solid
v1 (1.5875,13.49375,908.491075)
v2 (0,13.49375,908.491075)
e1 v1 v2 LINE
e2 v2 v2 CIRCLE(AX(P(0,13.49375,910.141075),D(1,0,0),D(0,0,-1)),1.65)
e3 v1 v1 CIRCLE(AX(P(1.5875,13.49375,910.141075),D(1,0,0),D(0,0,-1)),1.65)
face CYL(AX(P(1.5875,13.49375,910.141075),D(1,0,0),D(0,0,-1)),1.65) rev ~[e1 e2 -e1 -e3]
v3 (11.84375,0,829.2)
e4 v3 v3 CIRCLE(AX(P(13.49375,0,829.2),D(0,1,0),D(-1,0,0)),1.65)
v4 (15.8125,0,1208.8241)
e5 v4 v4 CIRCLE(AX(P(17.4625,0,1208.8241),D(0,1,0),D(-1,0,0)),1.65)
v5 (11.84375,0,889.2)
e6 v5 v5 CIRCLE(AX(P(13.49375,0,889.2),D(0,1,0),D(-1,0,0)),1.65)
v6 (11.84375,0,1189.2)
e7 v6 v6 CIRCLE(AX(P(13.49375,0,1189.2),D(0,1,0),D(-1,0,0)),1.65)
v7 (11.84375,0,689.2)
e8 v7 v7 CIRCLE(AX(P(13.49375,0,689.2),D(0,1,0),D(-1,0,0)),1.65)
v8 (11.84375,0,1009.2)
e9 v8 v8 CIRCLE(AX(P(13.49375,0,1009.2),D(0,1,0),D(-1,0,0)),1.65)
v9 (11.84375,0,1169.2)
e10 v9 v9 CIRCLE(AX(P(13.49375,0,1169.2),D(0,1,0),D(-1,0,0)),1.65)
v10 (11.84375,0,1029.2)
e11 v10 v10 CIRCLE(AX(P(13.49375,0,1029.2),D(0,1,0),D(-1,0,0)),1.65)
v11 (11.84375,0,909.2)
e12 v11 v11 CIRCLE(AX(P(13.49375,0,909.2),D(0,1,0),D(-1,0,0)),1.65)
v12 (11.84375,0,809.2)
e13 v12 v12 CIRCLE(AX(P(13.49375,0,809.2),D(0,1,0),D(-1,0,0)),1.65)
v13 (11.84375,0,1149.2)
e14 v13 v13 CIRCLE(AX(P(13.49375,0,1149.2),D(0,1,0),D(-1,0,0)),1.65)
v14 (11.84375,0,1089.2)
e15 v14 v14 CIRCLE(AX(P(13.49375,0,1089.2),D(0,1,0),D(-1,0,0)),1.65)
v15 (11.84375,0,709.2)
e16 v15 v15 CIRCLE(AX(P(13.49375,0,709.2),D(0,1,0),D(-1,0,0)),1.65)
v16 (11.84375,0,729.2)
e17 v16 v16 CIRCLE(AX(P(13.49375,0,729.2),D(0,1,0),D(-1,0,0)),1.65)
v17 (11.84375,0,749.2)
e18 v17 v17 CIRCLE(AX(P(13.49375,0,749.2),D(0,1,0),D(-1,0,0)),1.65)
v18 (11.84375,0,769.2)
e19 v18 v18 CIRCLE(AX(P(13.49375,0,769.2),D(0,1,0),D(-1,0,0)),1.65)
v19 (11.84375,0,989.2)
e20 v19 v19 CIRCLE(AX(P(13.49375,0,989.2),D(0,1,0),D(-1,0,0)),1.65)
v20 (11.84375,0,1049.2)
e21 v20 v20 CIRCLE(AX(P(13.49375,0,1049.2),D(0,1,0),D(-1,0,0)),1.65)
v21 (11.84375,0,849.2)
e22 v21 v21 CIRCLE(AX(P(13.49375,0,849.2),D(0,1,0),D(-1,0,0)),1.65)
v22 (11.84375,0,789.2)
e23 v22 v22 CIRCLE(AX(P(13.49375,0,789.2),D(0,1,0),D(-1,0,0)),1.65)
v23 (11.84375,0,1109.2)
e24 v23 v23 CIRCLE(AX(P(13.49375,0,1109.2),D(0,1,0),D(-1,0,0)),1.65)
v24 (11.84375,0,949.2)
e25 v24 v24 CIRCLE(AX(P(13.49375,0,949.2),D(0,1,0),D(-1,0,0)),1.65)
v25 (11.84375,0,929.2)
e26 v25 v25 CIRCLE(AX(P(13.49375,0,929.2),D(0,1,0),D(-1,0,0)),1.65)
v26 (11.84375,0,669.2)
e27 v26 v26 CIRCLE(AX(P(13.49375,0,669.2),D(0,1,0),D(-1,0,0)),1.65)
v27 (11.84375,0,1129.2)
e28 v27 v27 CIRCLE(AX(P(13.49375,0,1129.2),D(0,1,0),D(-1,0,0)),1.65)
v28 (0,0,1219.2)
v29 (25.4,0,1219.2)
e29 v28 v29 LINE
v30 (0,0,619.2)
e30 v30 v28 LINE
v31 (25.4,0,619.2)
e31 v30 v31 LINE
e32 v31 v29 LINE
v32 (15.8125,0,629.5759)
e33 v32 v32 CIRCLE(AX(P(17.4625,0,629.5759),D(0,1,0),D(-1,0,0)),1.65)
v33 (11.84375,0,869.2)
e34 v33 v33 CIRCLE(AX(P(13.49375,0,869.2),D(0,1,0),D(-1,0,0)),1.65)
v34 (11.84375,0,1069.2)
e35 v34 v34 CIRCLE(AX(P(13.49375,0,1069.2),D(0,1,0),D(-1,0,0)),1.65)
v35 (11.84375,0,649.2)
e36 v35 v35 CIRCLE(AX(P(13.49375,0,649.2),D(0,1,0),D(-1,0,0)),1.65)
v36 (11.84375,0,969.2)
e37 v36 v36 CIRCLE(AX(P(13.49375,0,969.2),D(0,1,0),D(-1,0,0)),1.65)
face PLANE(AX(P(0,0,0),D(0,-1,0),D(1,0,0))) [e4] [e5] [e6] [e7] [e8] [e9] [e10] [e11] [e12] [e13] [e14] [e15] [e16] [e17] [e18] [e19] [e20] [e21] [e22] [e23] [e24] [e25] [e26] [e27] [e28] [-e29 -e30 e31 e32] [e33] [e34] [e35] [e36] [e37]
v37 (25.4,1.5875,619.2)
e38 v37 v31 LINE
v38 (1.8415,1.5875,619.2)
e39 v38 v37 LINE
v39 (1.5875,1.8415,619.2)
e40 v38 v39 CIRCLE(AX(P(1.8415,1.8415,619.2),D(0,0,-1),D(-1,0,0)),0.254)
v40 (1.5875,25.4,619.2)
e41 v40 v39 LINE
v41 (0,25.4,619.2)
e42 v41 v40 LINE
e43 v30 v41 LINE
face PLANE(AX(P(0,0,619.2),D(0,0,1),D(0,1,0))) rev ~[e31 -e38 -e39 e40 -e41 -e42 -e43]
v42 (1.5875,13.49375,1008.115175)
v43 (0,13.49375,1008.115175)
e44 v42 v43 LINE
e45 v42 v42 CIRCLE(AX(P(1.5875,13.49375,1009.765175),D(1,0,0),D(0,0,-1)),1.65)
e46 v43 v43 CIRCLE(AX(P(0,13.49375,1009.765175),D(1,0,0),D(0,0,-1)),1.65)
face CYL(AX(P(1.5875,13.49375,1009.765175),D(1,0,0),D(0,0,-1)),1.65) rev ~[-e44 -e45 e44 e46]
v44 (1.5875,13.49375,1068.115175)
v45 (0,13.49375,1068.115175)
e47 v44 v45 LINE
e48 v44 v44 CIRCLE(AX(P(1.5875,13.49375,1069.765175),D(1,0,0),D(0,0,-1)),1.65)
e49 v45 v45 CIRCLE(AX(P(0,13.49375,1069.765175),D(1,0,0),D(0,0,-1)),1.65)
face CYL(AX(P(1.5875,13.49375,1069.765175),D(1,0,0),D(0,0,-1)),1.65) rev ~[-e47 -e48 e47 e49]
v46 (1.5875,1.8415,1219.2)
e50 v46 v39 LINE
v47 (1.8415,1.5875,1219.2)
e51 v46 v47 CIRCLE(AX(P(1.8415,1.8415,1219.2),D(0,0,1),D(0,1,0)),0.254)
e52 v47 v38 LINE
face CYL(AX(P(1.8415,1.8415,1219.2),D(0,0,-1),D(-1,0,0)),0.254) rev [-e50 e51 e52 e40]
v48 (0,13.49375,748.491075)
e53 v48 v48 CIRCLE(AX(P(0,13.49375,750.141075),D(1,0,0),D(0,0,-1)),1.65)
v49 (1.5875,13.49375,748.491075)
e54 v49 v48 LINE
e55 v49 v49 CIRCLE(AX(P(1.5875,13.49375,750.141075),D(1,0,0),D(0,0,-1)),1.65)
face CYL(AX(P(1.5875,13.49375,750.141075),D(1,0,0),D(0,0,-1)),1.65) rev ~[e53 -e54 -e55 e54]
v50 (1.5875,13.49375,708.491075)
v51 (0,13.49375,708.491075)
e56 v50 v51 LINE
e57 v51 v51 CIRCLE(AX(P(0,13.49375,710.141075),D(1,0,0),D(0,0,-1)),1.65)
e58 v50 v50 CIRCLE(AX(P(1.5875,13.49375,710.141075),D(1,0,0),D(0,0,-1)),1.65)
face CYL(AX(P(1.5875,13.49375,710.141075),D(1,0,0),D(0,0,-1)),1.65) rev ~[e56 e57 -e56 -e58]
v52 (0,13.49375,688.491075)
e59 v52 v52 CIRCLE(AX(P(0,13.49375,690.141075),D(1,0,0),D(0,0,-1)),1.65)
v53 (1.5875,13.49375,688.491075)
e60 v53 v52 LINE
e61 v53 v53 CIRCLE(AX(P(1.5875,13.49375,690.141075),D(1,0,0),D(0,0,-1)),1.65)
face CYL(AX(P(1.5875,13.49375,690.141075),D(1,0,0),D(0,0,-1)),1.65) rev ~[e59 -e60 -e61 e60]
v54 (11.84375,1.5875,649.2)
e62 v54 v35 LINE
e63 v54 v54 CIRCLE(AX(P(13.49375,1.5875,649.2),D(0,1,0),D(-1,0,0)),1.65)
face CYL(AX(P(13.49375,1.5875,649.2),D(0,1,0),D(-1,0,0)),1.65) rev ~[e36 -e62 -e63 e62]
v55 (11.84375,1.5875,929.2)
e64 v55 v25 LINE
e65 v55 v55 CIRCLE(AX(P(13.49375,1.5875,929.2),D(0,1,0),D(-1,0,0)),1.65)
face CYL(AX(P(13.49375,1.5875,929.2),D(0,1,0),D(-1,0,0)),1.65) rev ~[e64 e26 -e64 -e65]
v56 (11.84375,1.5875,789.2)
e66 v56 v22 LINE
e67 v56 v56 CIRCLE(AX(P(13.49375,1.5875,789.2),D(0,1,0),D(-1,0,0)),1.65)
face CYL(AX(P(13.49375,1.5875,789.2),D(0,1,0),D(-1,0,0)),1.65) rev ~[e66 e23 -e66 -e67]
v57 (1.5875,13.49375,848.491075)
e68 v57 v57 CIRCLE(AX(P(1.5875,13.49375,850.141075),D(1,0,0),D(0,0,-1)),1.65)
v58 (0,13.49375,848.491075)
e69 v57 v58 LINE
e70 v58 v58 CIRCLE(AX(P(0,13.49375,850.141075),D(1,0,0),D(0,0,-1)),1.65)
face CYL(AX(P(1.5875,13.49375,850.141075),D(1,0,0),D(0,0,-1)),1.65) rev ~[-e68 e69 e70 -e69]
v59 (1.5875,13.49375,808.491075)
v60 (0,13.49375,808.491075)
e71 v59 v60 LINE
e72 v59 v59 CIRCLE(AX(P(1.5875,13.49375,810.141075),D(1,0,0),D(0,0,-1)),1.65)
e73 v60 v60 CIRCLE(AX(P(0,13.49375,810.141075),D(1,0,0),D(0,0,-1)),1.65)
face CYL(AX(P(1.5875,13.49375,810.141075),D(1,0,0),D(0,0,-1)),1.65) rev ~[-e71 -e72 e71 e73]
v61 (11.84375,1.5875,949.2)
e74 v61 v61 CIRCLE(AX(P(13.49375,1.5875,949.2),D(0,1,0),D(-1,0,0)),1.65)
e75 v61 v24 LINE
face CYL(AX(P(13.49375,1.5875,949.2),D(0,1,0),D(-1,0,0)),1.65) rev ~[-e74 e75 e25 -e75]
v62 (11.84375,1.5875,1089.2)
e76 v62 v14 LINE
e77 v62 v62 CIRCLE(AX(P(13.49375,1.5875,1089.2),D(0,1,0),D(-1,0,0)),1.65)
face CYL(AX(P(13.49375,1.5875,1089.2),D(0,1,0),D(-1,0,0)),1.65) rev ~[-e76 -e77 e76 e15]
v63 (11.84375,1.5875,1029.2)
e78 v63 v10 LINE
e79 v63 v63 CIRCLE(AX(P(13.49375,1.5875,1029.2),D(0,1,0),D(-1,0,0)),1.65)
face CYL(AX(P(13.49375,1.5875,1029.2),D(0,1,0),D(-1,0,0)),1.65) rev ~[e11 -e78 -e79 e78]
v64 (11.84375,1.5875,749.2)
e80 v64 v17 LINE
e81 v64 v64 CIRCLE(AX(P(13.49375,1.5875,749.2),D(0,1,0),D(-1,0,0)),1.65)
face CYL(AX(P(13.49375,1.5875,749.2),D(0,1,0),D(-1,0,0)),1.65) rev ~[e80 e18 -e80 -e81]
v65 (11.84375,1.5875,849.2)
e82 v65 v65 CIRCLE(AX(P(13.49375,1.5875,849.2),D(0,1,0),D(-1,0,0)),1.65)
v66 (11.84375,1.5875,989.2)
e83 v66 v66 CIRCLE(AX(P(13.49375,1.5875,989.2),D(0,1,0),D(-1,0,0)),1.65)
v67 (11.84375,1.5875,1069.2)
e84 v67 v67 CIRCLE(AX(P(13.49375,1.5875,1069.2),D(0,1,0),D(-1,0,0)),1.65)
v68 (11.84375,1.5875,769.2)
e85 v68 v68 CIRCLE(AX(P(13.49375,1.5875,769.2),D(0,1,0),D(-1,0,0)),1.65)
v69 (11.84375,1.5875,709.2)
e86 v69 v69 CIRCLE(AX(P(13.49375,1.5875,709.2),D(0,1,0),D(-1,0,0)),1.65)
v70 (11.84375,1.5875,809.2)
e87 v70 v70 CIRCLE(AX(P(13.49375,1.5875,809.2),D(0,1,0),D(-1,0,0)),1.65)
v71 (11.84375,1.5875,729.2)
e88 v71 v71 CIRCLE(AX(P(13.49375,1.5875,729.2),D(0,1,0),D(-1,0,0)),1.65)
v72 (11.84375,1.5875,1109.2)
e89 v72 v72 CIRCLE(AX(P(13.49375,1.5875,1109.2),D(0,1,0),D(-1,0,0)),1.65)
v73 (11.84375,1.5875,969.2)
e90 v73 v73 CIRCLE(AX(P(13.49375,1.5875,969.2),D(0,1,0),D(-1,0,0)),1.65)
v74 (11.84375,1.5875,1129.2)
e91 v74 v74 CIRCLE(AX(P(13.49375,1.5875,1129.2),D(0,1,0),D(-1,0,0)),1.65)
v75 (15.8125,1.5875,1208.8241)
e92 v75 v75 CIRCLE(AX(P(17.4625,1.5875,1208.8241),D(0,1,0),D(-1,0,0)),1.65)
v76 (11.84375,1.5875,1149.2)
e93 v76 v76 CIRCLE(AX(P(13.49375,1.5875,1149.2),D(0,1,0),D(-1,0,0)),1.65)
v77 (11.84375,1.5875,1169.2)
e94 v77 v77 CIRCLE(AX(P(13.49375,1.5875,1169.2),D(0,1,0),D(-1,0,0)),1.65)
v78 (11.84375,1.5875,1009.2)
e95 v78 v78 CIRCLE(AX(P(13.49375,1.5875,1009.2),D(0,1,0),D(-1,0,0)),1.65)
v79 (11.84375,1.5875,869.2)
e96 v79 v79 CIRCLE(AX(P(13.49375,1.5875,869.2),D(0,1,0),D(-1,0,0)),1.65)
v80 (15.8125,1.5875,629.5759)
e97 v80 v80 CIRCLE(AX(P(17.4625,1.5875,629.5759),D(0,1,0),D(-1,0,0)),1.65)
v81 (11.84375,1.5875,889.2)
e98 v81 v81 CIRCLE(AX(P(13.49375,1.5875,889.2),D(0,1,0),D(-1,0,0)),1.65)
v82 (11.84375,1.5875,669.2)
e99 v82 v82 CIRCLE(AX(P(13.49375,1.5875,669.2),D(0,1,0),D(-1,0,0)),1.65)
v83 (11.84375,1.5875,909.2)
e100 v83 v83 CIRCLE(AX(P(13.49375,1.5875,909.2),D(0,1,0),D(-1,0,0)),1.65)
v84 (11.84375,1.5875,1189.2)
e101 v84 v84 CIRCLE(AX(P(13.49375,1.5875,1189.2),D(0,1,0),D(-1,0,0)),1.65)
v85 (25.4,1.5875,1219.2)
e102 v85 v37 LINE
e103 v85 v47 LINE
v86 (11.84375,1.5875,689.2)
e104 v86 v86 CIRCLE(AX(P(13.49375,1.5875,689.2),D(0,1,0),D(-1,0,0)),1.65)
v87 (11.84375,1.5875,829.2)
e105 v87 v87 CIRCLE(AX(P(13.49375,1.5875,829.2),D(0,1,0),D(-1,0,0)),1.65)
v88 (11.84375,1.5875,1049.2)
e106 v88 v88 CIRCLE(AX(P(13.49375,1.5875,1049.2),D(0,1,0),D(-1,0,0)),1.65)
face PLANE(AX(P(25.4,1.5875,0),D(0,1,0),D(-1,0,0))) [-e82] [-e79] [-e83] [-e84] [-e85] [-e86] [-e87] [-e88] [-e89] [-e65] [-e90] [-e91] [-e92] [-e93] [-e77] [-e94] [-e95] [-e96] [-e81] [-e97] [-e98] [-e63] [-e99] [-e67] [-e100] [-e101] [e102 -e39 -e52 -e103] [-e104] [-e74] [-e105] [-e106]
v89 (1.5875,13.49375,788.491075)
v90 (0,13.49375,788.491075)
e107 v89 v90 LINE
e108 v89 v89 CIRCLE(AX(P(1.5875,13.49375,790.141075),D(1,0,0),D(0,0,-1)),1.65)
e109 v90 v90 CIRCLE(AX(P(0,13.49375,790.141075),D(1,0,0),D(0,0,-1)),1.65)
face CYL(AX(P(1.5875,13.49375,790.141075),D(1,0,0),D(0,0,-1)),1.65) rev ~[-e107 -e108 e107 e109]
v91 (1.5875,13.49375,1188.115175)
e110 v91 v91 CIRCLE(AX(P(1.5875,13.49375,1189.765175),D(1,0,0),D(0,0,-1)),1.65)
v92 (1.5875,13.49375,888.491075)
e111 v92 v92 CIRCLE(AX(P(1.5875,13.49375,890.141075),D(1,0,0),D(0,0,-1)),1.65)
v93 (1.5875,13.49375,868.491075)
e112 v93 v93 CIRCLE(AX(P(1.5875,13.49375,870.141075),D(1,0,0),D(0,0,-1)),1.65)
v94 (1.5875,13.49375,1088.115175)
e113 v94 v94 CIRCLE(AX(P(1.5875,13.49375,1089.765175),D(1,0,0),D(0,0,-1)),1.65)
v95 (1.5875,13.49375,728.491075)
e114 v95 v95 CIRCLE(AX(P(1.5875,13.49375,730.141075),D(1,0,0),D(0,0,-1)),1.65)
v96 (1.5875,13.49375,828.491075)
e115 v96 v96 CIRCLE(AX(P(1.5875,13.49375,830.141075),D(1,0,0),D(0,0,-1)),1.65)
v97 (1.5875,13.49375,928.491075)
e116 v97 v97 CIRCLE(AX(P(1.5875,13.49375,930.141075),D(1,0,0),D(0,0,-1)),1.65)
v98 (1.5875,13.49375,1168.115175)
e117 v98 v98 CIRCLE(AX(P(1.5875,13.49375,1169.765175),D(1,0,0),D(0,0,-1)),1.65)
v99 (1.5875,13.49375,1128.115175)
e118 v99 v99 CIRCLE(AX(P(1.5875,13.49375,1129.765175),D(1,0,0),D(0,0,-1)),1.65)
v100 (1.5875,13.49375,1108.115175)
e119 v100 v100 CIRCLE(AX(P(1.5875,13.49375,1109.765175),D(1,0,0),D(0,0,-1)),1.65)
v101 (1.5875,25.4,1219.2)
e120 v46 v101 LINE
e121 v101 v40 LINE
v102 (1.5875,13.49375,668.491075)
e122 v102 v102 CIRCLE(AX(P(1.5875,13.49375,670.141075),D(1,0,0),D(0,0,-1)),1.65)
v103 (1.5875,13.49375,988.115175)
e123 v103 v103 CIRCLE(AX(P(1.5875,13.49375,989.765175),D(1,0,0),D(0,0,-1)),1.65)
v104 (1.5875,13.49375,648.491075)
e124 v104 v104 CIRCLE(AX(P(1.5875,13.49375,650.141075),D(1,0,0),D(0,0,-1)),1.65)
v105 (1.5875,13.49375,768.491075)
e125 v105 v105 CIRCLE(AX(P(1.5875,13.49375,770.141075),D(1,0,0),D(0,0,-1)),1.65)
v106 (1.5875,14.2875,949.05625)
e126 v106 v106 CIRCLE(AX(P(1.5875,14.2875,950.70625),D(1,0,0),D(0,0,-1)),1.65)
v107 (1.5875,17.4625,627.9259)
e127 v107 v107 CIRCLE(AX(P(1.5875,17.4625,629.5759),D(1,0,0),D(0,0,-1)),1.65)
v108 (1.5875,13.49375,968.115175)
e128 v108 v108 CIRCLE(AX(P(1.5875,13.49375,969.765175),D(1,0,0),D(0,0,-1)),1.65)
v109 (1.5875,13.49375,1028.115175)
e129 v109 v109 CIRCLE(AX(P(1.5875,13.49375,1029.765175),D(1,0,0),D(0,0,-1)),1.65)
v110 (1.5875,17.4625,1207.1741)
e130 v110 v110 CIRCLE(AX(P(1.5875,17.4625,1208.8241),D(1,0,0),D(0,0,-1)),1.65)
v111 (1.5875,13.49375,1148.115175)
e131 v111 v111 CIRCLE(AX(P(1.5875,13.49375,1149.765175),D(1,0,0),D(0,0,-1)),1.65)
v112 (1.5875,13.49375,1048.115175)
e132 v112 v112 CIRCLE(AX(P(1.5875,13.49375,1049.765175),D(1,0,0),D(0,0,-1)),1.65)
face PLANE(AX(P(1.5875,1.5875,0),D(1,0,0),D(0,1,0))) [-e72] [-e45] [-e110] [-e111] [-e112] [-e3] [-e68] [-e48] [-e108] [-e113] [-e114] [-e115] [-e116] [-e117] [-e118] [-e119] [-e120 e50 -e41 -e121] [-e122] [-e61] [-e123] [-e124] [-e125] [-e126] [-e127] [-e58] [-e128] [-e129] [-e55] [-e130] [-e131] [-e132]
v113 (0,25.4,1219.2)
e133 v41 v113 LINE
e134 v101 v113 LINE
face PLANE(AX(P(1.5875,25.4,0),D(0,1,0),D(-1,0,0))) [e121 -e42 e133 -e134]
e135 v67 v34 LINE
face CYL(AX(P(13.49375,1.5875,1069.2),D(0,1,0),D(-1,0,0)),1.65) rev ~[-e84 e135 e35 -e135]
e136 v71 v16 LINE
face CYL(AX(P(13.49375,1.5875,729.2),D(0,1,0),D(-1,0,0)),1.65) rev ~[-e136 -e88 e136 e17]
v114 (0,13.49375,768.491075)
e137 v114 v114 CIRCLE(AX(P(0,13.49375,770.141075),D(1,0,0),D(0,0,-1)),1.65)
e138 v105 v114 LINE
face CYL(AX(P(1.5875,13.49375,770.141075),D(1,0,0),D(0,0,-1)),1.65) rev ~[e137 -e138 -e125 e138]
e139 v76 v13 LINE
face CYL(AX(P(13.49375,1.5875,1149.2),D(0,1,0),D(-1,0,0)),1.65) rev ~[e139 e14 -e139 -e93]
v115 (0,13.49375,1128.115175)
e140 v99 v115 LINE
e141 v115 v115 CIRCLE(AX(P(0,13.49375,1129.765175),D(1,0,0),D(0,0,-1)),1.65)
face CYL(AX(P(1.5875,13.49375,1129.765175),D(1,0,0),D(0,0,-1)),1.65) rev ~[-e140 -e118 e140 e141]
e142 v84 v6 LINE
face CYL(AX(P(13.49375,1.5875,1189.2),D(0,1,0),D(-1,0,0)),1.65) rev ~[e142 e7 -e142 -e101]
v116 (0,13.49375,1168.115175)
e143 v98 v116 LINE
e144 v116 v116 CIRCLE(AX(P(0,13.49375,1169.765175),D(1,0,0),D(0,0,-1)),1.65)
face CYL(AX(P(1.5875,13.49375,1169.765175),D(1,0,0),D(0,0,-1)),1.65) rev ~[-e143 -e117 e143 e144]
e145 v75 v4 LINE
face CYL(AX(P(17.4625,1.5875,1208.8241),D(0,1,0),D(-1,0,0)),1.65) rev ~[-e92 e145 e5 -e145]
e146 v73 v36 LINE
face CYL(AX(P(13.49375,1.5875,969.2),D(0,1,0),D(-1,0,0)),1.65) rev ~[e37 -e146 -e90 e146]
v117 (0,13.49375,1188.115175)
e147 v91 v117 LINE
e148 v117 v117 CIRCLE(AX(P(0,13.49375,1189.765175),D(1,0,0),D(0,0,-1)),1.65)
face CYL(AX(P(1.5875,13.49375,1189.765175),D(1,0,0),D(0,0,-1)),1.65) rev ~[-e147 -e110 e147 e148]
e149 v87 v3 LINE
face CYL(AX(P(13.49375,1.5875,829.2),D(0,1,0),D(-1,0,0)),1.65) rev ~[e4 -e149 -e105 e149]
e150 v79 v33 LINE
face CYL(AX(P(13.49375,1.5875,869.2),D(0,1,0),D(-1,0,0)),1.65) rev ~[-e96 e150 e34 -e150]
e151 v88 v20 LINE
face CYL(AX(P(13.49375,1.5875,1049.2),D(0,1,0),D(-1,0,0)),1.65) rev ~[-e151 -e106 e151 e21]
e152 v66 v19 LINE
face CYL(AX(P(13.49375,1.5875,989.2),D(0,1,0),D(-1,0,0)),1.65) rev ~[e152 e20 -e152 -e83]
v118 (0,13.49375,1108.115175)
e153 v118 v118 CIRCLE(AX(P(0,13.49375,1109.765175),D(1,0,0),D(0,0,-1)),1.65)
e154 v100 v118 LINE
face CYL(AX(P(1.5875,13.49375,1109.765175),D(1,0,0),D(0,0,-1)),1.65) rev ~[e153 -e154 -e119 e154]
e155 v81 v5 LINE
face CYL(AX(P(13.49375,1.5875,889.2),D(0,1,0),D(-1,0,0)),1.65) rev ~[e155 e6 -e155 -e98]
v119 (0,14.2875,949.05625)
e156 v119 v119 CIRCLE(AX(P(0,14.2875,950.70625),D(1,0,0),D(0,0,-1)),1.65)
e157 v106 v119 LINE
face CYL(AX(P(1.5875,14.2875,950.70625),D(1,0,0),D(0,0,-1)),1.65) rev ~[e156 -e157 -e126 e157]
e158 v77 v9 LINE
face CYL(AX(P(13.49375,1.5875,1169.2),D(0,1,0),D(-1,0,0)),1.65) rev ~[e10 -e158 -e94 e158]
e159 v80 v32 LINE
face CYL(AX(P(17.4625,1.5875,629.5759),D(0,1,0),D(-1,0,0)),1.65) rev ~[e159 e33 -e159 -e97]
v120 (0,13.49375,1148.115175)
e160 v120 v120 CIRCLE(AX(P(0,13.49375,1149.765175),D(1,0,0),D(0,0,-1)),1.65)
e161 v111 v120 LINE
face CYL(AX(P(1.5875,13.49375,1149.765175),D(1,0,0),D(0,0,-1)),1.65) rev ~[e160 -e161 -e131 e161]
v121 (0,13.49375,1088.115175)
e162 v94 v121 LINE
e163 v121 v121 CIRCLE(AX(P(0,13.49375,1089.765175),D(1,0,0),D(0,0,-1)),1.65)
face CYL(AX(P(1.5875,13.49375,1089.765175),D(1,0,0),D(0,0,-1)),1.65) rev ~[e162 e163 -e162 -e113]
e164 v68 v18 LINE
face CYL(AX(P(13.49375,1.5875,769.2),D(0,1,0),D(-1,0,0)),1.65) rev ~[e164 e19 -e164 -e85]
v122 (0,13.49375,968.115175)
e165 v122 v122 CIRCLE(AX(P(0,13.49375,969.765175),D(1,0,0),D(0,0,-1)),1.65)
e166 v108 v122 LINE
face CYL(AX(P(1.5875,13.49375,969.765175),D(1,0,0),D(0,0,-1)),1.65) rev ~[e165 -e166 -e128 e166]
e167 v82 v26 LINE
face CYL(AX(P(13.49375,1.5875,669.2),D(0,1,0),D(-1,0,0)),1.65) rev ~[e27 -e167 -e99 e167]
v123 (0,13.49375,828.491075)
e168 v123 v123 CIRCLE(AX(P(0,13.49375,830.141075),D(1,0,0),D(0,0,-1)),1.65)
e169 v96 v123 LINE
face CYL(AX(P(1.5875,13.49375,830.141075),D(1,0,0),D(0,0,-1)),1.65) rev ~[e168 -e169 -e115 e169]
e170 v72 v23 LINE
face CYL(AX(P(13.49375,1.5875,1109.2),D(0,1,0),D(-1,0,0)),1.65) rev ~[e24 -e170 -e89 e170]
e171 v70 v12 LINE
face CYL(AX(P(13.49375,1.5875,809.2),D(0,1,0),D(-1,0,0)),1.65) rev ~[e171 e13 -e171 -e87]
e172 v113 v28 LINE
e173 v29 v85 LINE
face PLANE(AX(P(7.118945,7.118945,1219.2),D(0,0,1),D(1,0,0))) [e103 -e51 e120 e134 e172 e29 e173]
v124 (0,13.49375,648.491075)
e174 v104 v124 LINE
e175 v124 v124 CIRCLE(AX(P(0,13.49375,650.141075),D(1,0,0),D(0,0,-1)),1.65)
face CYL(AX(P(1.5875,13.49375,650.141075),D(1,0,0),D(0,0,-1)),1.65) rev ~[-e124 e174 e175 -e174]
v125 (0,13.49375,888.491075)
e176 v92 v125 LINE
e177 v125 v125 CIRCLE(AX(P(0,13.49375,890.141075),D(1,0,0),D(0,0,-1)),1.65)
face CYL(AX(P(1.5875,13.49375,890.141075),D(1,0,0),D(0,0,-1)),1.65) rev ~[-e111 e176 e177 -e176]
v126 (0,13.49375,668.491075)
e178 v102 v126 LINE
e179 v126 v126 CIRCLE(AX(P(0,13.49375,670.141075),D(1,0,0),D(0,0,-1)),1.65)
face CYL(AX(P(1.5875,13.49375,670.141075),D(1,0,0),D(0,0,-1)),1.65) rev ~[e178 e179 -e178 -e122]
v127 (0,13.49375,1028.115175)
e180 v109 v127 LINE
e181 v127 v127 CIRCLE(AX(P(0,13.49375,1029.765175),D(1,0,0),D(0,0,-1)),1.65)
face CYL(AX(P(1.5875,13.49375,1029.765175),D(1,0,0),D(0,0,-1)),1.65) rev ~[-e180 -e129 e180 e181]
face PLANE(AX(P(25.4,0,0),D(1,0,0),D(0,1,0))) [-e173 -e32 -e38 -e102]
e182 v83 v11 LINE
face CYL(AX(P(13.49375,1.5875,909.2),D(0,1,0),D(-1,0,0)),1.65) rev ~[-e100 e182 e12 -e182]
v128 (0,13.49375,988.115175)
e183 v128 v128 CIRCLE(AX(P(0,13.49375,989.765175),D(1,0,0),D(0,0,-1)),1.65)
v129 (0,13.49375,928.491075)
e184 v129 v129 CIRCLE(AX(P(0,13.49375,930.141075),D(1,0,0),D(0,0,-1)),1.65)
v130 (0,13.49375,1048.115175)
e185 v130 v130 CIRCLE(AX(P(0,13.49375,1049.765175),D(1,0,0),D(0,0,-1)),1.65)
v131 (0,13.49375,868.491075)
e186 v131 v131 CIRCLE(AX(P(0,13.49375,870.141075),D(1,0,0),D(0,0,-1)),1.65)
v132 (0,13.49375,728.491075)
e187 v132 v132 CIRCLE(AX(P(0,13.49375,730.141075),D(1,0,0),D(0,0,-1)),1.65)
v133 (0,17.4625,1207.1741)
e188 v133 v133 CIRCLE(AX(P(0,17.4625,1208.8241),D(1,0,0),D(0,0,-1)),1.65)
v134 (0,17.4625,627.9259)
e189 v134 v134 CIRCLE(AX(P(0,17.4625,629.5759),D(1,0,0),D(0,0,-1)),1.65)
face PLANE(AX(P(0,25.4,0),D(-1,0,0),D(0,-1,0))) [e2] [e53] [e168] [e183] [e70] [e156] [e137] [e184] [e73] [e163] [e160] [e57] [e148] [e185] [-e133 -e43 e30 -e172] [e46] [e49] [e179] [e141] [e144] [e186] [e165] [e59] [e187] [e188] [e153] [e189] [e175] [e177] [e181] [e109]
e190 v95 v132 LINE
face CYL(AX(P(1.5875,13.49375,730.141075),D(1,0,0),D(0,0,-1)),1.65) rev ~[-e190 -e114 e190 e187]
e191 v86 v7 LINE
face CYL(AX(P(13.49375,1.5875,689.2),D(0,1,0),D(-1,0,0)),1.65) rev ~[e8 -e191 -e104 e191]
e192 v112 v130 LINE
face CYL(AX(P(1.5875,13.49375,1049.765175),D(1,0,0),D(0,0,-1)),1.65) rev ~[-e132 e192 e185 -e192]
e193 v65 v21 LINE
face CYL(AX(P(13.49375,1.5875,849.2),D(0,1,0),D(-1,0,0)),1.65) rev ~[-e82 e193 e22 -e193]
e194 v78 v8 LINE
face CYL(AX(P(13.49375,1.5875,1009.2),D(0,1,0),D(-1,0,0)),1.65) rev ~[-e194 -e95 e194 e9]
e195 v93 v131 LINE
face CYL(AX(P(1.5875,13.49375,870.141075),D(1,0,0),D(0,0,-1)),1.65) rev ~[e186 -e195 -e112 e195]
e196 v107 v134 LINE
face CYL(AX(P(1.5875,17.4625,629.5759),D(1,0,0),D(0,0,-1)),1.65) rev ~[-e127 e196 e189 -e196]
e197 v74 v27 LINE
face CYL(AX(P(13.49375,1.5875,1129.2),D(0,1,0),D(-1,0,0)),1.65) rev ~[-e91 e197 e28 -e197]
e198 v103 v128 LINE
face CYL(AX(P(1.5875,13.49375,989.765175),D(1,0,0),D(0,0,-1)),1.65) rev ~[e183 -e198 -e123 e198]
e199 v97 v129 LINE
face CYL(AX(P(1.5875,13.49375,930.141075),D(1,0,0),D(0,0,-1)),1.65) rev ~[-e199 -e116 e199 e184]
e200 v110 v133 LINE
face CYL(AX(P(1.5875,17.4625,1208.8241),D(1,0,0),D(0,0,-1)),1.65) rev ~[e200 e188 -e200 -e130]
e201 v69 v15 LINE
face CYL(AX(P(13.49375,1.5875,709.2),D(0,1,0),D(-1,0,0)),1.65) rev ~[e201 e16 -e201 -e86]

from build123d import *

# Parameters (mm, degrees)
BOSS_EXTRUDE1_DEPTH = 1219.2
FILLET1_R           = 0.254
SKETCH4_W           = 1838.4
SKETCH4_H           = 74.945320812
CUT_EXTRUDE1_DEPTH  = 60
SKETCH5_R           = 1.65
CUT_EXTRUDE2_DEPTH  = 10
SKETCH9_R           = 1.65
CUT_EXTRUDE6_DEPTH  = 60


with BuildPart() as part:
    # Sketch3 → Boss-Extrude1 (new, symmetric)
    with BuildSketch(Plane.XY):
        Polygon((1.5875, 25.4), (0, 25.4), (0, 0), (25.4, 0), (25.4, 1.5875), (1.5875, 1.5875), align=None)
    extrude(amount=BOSS_EXTRUDE1_DEPTH, both=True)

    # Fillet1
    fillet1_edges = [part.edges().sort_by_distance(p)[0] for p in [
        (1.5875, 1.5875, 0),
    ]]
    fillet(fillet1_edges, radius=FILLET1_R)

    # Sketch4 → Cut-Extrude1 (cut)
    with BuildSketch(Plane.ZY):
        with Locations((-300, 37.472660406)):
            Rectangle(SKETCH4_W, SKETCH4_H)
    extrude(amount=-CUT_EXTRUDE1_DEPTH, mode=Mode.SUBTRACT)

    # Sketch5 → Cut-Extrude2 (cut)
    with BuildSketch(Plane(origin=(0, 1.5875, 0), x_dir=(1, 0, 0), z_dir=(0, 1, 0))):
        with Locations(Location((17.4625, -629.5759, 0), (0, 0, 180))):
            Circle(SKETCH5_R)
        with Locations(Location((17.4625, -1208.8241, 0), (0, 0, 180))):
            Circle(SKETCH5_R)
        with Locations(Location((13.49375, -1189.2, 0), (0, 0, 180))):
            Circle(SKETCH5_R)
        with Locations(Location((13.49375, -1169.2, 0), (0, 0, 180))):
            Circle(SKETCH5_R)
        with Locations(Location((13.49375, -1149.2, 0), (0, 0, 180))):
            Circle(SKETCH5_R)
        with Locations(Location((13.49375, -1129.2, 0), (0, 0, 180))):
            Circle(SKETCH5_R)
        with Locations(Location((13.49375, -1109.2, 0), (0, 0, 180))):
            Circle(SKETCH5_R)
        with Locations(Location((13.49375, -1089.2, 0), (0, 0, 180))):
            Circle(SKETCH5_R)
        with Locations(Location((13.49375, -1069.2, 0), (0, 0, 180))):
            Circle(SKETCH5_R)
        with Locations(Location((13.49375, -1049.2, 0), (0, 0, 180))):
            Circle(SKETCH5_R)
        with Locations(Location((13.49375, -1029.2, 0), (0, 0, 180))):
            Circle(SKETCH5_R)
        with Locations(Location((13.49375, -1009.2, 0), (0, 0, 180))):
            Circle(SKETCH5_R)
        with Locations(Location((13.49375, -989.2, 0), (0, 0, 180))):
            Circle(SKETCH5_R)
        with Locations(Location((13.49375, -969.2, 0), (0, 0, 180))):
            Circle(SKETCH5_R)
        with Locations(Location((13.49375, -949.2, 0), (0, 0, 180))):
            Circle(SKETCH5_R)
        with Locations(Location((13.49375, -929.2, 0), (0, 0, 180))):
            Circle(SKETCH5_R)
        with Locations(Location((13.49375, -909.2, 0), (0, 0, 180))):
            Circle(SKETCH5_R)
        with Locations(Location((13.49375, -889.2, 0), (0, 0, 180))):
            Circle(SKETCH5_R)
        with Locations(Location((13.49375, -869.2, 0), (0, 0, 180))):
            Circle(SKETCH5_R)
        with Locations(Location((13.49375, -849.2, 0), (0, 0, 180))):
            Circle(SKETCH5_R)
        with Locations(Location((13.49375, -829.2, 0), (0, 0, 180))):
            Circle(SKETCH5_R)
        with Locations(Location((13.49375, -809.2, 0), (0, 0, 180))):
            Circle(SKETCH5_R)
        with Locations(Location((13.49375, -789.2, 0), (0, 0, 180))):
            Circle(SKETCH5_R)
        with Locations(Location((13.49375, -769.2, 0), (0, 0, 180))):
            Circle(SKETCH5_R)
        with Locations(Location((13.49375, -749.2, 0), (0, 0, 180))):
            Circle(SKETCH5_R)
        with Locations(Location((13.49375, -729.2, 0), (0, 0, 180))):
            Circle(SKETCH5_R)
        with Locations(Location((13.49375, -709.2, 0), (0, 0, 180))):
            Circle(SKETCH5_R)
        with Locations(Location((13.49375, -689.2, 0), (0, 0, 180))):
            Circle(SKETCH5_R)
        with Locations(Location((13.49375, -669.2, 0), (0, 0, 180))):
            Circle(SKETCH5_R)
        with Locations(Location((13.49375, -649.2, 0), (0, 0, 180))):
            Circle(SKETCH5_R)
    extrude(amount=-CUT_EXTRUDE2_DEPTH, mode=Mode.SUBTRACT)

    # Sketch9 → Cut-Extrude6 (cut)
    with BuildSketch(Plane(origin=(1.5875, 0, 0), x_dir=(0, 0, -1), z_dir=(1, 0, 0))):
        with Locations((-629.5759, 17.4625)):
            Circle(SKETCH9_R)
        with Locations((-1208.8241, 17.4625)):
            Circle(SKETCH9_R)
        with Locations((-950.70625, 14.2875)):
            Circle(SKETCH9_R)
        with Locations((-1189.765175, 13.49375)):
            Circle(SKETCH9_R)
        with Locations((-1169.765175, 13.49375)):
            Circle(SKETCH9_R)
        with Locations((-1149.765175, 13.49375)):
            Circle(SKETCH9_R)
        with Locations((-1129.765175, 13.49375)):
            Circle(SKETCH9_R)
        with Locations((-1109.765175, 13.49375)):
            Circle(SKETCH9_R)
        with Locations((-1089.765175, 13.49375)):
            Circle(SKETCH9_R)
        with Locations((-1069.765175, 13.49375)):
            Circle(SKETCH9_R)
        with Locations((-1049.765175, 13.49375)):
            Circle(SKETCH9_R)
        with Locations((-1029.765175, 13.49375)):
            Circle(SKETCH9_R)
        with Locations((-1009.765175, 13.49375)):
            Circle(SKETCH9_R)
        with Locations((-989.765175, 13.49375)):
            Circle(SKETCH9_R)
        with Locations((-969.765175, 13.49375)):
            Circle(SKETCH9_R)
        with Locations((-930.141075, 13.49375)):
            Circle(SKETCH9_R)
        with Locations((-910.141075, 13.49375)):
            Circle(SKETCH9_R)
        with Locations((-890.141075, 13.49375)):
            Circle(SKETCH9_R)
        with Locations((-870.141075, 13.49375)):
            Circle(SKETCH9_R)
        with Locations((-850.141075, 13.49375)):
            Circle(SKETCH9_R)
        with Locations((-830.141075, 13.49375)):
            Circle(SKETCH9_R)
        with Locations((-810.141075, 13.49375)):
            Circle(SKETCH9_R)
        with Locations((-790.141075, 13.49375)):
            Circle(SKETCH9_R)
        with Locations((-770.141075, 13.49375)):
            Circle(SKETCH9_R)
        with Locations((-750.141075, 13.49375)):
            Circle(SKETCH9_R)
        with Locations((-730.141075, 13.49375)):
            Circle(SKETCH9_R)
        with Locations((-710.141075, 13.49375)):
            Circle(SKETCH9_R)
        with Locations((-690.141075, 13.49375)):
            Circle(SKETCH9_R)
        with Locations((-670.141075, 13.49375)):
            Circle(SKETCH9_R)
        with Locations((-650.141075, 13.49375)):
            Circle(SKETCH9_R)
    extrude(amount=-CUT_EXTRUDE6_DEPTH, mode=Mode.SUBTRACT)


solid = part.part
